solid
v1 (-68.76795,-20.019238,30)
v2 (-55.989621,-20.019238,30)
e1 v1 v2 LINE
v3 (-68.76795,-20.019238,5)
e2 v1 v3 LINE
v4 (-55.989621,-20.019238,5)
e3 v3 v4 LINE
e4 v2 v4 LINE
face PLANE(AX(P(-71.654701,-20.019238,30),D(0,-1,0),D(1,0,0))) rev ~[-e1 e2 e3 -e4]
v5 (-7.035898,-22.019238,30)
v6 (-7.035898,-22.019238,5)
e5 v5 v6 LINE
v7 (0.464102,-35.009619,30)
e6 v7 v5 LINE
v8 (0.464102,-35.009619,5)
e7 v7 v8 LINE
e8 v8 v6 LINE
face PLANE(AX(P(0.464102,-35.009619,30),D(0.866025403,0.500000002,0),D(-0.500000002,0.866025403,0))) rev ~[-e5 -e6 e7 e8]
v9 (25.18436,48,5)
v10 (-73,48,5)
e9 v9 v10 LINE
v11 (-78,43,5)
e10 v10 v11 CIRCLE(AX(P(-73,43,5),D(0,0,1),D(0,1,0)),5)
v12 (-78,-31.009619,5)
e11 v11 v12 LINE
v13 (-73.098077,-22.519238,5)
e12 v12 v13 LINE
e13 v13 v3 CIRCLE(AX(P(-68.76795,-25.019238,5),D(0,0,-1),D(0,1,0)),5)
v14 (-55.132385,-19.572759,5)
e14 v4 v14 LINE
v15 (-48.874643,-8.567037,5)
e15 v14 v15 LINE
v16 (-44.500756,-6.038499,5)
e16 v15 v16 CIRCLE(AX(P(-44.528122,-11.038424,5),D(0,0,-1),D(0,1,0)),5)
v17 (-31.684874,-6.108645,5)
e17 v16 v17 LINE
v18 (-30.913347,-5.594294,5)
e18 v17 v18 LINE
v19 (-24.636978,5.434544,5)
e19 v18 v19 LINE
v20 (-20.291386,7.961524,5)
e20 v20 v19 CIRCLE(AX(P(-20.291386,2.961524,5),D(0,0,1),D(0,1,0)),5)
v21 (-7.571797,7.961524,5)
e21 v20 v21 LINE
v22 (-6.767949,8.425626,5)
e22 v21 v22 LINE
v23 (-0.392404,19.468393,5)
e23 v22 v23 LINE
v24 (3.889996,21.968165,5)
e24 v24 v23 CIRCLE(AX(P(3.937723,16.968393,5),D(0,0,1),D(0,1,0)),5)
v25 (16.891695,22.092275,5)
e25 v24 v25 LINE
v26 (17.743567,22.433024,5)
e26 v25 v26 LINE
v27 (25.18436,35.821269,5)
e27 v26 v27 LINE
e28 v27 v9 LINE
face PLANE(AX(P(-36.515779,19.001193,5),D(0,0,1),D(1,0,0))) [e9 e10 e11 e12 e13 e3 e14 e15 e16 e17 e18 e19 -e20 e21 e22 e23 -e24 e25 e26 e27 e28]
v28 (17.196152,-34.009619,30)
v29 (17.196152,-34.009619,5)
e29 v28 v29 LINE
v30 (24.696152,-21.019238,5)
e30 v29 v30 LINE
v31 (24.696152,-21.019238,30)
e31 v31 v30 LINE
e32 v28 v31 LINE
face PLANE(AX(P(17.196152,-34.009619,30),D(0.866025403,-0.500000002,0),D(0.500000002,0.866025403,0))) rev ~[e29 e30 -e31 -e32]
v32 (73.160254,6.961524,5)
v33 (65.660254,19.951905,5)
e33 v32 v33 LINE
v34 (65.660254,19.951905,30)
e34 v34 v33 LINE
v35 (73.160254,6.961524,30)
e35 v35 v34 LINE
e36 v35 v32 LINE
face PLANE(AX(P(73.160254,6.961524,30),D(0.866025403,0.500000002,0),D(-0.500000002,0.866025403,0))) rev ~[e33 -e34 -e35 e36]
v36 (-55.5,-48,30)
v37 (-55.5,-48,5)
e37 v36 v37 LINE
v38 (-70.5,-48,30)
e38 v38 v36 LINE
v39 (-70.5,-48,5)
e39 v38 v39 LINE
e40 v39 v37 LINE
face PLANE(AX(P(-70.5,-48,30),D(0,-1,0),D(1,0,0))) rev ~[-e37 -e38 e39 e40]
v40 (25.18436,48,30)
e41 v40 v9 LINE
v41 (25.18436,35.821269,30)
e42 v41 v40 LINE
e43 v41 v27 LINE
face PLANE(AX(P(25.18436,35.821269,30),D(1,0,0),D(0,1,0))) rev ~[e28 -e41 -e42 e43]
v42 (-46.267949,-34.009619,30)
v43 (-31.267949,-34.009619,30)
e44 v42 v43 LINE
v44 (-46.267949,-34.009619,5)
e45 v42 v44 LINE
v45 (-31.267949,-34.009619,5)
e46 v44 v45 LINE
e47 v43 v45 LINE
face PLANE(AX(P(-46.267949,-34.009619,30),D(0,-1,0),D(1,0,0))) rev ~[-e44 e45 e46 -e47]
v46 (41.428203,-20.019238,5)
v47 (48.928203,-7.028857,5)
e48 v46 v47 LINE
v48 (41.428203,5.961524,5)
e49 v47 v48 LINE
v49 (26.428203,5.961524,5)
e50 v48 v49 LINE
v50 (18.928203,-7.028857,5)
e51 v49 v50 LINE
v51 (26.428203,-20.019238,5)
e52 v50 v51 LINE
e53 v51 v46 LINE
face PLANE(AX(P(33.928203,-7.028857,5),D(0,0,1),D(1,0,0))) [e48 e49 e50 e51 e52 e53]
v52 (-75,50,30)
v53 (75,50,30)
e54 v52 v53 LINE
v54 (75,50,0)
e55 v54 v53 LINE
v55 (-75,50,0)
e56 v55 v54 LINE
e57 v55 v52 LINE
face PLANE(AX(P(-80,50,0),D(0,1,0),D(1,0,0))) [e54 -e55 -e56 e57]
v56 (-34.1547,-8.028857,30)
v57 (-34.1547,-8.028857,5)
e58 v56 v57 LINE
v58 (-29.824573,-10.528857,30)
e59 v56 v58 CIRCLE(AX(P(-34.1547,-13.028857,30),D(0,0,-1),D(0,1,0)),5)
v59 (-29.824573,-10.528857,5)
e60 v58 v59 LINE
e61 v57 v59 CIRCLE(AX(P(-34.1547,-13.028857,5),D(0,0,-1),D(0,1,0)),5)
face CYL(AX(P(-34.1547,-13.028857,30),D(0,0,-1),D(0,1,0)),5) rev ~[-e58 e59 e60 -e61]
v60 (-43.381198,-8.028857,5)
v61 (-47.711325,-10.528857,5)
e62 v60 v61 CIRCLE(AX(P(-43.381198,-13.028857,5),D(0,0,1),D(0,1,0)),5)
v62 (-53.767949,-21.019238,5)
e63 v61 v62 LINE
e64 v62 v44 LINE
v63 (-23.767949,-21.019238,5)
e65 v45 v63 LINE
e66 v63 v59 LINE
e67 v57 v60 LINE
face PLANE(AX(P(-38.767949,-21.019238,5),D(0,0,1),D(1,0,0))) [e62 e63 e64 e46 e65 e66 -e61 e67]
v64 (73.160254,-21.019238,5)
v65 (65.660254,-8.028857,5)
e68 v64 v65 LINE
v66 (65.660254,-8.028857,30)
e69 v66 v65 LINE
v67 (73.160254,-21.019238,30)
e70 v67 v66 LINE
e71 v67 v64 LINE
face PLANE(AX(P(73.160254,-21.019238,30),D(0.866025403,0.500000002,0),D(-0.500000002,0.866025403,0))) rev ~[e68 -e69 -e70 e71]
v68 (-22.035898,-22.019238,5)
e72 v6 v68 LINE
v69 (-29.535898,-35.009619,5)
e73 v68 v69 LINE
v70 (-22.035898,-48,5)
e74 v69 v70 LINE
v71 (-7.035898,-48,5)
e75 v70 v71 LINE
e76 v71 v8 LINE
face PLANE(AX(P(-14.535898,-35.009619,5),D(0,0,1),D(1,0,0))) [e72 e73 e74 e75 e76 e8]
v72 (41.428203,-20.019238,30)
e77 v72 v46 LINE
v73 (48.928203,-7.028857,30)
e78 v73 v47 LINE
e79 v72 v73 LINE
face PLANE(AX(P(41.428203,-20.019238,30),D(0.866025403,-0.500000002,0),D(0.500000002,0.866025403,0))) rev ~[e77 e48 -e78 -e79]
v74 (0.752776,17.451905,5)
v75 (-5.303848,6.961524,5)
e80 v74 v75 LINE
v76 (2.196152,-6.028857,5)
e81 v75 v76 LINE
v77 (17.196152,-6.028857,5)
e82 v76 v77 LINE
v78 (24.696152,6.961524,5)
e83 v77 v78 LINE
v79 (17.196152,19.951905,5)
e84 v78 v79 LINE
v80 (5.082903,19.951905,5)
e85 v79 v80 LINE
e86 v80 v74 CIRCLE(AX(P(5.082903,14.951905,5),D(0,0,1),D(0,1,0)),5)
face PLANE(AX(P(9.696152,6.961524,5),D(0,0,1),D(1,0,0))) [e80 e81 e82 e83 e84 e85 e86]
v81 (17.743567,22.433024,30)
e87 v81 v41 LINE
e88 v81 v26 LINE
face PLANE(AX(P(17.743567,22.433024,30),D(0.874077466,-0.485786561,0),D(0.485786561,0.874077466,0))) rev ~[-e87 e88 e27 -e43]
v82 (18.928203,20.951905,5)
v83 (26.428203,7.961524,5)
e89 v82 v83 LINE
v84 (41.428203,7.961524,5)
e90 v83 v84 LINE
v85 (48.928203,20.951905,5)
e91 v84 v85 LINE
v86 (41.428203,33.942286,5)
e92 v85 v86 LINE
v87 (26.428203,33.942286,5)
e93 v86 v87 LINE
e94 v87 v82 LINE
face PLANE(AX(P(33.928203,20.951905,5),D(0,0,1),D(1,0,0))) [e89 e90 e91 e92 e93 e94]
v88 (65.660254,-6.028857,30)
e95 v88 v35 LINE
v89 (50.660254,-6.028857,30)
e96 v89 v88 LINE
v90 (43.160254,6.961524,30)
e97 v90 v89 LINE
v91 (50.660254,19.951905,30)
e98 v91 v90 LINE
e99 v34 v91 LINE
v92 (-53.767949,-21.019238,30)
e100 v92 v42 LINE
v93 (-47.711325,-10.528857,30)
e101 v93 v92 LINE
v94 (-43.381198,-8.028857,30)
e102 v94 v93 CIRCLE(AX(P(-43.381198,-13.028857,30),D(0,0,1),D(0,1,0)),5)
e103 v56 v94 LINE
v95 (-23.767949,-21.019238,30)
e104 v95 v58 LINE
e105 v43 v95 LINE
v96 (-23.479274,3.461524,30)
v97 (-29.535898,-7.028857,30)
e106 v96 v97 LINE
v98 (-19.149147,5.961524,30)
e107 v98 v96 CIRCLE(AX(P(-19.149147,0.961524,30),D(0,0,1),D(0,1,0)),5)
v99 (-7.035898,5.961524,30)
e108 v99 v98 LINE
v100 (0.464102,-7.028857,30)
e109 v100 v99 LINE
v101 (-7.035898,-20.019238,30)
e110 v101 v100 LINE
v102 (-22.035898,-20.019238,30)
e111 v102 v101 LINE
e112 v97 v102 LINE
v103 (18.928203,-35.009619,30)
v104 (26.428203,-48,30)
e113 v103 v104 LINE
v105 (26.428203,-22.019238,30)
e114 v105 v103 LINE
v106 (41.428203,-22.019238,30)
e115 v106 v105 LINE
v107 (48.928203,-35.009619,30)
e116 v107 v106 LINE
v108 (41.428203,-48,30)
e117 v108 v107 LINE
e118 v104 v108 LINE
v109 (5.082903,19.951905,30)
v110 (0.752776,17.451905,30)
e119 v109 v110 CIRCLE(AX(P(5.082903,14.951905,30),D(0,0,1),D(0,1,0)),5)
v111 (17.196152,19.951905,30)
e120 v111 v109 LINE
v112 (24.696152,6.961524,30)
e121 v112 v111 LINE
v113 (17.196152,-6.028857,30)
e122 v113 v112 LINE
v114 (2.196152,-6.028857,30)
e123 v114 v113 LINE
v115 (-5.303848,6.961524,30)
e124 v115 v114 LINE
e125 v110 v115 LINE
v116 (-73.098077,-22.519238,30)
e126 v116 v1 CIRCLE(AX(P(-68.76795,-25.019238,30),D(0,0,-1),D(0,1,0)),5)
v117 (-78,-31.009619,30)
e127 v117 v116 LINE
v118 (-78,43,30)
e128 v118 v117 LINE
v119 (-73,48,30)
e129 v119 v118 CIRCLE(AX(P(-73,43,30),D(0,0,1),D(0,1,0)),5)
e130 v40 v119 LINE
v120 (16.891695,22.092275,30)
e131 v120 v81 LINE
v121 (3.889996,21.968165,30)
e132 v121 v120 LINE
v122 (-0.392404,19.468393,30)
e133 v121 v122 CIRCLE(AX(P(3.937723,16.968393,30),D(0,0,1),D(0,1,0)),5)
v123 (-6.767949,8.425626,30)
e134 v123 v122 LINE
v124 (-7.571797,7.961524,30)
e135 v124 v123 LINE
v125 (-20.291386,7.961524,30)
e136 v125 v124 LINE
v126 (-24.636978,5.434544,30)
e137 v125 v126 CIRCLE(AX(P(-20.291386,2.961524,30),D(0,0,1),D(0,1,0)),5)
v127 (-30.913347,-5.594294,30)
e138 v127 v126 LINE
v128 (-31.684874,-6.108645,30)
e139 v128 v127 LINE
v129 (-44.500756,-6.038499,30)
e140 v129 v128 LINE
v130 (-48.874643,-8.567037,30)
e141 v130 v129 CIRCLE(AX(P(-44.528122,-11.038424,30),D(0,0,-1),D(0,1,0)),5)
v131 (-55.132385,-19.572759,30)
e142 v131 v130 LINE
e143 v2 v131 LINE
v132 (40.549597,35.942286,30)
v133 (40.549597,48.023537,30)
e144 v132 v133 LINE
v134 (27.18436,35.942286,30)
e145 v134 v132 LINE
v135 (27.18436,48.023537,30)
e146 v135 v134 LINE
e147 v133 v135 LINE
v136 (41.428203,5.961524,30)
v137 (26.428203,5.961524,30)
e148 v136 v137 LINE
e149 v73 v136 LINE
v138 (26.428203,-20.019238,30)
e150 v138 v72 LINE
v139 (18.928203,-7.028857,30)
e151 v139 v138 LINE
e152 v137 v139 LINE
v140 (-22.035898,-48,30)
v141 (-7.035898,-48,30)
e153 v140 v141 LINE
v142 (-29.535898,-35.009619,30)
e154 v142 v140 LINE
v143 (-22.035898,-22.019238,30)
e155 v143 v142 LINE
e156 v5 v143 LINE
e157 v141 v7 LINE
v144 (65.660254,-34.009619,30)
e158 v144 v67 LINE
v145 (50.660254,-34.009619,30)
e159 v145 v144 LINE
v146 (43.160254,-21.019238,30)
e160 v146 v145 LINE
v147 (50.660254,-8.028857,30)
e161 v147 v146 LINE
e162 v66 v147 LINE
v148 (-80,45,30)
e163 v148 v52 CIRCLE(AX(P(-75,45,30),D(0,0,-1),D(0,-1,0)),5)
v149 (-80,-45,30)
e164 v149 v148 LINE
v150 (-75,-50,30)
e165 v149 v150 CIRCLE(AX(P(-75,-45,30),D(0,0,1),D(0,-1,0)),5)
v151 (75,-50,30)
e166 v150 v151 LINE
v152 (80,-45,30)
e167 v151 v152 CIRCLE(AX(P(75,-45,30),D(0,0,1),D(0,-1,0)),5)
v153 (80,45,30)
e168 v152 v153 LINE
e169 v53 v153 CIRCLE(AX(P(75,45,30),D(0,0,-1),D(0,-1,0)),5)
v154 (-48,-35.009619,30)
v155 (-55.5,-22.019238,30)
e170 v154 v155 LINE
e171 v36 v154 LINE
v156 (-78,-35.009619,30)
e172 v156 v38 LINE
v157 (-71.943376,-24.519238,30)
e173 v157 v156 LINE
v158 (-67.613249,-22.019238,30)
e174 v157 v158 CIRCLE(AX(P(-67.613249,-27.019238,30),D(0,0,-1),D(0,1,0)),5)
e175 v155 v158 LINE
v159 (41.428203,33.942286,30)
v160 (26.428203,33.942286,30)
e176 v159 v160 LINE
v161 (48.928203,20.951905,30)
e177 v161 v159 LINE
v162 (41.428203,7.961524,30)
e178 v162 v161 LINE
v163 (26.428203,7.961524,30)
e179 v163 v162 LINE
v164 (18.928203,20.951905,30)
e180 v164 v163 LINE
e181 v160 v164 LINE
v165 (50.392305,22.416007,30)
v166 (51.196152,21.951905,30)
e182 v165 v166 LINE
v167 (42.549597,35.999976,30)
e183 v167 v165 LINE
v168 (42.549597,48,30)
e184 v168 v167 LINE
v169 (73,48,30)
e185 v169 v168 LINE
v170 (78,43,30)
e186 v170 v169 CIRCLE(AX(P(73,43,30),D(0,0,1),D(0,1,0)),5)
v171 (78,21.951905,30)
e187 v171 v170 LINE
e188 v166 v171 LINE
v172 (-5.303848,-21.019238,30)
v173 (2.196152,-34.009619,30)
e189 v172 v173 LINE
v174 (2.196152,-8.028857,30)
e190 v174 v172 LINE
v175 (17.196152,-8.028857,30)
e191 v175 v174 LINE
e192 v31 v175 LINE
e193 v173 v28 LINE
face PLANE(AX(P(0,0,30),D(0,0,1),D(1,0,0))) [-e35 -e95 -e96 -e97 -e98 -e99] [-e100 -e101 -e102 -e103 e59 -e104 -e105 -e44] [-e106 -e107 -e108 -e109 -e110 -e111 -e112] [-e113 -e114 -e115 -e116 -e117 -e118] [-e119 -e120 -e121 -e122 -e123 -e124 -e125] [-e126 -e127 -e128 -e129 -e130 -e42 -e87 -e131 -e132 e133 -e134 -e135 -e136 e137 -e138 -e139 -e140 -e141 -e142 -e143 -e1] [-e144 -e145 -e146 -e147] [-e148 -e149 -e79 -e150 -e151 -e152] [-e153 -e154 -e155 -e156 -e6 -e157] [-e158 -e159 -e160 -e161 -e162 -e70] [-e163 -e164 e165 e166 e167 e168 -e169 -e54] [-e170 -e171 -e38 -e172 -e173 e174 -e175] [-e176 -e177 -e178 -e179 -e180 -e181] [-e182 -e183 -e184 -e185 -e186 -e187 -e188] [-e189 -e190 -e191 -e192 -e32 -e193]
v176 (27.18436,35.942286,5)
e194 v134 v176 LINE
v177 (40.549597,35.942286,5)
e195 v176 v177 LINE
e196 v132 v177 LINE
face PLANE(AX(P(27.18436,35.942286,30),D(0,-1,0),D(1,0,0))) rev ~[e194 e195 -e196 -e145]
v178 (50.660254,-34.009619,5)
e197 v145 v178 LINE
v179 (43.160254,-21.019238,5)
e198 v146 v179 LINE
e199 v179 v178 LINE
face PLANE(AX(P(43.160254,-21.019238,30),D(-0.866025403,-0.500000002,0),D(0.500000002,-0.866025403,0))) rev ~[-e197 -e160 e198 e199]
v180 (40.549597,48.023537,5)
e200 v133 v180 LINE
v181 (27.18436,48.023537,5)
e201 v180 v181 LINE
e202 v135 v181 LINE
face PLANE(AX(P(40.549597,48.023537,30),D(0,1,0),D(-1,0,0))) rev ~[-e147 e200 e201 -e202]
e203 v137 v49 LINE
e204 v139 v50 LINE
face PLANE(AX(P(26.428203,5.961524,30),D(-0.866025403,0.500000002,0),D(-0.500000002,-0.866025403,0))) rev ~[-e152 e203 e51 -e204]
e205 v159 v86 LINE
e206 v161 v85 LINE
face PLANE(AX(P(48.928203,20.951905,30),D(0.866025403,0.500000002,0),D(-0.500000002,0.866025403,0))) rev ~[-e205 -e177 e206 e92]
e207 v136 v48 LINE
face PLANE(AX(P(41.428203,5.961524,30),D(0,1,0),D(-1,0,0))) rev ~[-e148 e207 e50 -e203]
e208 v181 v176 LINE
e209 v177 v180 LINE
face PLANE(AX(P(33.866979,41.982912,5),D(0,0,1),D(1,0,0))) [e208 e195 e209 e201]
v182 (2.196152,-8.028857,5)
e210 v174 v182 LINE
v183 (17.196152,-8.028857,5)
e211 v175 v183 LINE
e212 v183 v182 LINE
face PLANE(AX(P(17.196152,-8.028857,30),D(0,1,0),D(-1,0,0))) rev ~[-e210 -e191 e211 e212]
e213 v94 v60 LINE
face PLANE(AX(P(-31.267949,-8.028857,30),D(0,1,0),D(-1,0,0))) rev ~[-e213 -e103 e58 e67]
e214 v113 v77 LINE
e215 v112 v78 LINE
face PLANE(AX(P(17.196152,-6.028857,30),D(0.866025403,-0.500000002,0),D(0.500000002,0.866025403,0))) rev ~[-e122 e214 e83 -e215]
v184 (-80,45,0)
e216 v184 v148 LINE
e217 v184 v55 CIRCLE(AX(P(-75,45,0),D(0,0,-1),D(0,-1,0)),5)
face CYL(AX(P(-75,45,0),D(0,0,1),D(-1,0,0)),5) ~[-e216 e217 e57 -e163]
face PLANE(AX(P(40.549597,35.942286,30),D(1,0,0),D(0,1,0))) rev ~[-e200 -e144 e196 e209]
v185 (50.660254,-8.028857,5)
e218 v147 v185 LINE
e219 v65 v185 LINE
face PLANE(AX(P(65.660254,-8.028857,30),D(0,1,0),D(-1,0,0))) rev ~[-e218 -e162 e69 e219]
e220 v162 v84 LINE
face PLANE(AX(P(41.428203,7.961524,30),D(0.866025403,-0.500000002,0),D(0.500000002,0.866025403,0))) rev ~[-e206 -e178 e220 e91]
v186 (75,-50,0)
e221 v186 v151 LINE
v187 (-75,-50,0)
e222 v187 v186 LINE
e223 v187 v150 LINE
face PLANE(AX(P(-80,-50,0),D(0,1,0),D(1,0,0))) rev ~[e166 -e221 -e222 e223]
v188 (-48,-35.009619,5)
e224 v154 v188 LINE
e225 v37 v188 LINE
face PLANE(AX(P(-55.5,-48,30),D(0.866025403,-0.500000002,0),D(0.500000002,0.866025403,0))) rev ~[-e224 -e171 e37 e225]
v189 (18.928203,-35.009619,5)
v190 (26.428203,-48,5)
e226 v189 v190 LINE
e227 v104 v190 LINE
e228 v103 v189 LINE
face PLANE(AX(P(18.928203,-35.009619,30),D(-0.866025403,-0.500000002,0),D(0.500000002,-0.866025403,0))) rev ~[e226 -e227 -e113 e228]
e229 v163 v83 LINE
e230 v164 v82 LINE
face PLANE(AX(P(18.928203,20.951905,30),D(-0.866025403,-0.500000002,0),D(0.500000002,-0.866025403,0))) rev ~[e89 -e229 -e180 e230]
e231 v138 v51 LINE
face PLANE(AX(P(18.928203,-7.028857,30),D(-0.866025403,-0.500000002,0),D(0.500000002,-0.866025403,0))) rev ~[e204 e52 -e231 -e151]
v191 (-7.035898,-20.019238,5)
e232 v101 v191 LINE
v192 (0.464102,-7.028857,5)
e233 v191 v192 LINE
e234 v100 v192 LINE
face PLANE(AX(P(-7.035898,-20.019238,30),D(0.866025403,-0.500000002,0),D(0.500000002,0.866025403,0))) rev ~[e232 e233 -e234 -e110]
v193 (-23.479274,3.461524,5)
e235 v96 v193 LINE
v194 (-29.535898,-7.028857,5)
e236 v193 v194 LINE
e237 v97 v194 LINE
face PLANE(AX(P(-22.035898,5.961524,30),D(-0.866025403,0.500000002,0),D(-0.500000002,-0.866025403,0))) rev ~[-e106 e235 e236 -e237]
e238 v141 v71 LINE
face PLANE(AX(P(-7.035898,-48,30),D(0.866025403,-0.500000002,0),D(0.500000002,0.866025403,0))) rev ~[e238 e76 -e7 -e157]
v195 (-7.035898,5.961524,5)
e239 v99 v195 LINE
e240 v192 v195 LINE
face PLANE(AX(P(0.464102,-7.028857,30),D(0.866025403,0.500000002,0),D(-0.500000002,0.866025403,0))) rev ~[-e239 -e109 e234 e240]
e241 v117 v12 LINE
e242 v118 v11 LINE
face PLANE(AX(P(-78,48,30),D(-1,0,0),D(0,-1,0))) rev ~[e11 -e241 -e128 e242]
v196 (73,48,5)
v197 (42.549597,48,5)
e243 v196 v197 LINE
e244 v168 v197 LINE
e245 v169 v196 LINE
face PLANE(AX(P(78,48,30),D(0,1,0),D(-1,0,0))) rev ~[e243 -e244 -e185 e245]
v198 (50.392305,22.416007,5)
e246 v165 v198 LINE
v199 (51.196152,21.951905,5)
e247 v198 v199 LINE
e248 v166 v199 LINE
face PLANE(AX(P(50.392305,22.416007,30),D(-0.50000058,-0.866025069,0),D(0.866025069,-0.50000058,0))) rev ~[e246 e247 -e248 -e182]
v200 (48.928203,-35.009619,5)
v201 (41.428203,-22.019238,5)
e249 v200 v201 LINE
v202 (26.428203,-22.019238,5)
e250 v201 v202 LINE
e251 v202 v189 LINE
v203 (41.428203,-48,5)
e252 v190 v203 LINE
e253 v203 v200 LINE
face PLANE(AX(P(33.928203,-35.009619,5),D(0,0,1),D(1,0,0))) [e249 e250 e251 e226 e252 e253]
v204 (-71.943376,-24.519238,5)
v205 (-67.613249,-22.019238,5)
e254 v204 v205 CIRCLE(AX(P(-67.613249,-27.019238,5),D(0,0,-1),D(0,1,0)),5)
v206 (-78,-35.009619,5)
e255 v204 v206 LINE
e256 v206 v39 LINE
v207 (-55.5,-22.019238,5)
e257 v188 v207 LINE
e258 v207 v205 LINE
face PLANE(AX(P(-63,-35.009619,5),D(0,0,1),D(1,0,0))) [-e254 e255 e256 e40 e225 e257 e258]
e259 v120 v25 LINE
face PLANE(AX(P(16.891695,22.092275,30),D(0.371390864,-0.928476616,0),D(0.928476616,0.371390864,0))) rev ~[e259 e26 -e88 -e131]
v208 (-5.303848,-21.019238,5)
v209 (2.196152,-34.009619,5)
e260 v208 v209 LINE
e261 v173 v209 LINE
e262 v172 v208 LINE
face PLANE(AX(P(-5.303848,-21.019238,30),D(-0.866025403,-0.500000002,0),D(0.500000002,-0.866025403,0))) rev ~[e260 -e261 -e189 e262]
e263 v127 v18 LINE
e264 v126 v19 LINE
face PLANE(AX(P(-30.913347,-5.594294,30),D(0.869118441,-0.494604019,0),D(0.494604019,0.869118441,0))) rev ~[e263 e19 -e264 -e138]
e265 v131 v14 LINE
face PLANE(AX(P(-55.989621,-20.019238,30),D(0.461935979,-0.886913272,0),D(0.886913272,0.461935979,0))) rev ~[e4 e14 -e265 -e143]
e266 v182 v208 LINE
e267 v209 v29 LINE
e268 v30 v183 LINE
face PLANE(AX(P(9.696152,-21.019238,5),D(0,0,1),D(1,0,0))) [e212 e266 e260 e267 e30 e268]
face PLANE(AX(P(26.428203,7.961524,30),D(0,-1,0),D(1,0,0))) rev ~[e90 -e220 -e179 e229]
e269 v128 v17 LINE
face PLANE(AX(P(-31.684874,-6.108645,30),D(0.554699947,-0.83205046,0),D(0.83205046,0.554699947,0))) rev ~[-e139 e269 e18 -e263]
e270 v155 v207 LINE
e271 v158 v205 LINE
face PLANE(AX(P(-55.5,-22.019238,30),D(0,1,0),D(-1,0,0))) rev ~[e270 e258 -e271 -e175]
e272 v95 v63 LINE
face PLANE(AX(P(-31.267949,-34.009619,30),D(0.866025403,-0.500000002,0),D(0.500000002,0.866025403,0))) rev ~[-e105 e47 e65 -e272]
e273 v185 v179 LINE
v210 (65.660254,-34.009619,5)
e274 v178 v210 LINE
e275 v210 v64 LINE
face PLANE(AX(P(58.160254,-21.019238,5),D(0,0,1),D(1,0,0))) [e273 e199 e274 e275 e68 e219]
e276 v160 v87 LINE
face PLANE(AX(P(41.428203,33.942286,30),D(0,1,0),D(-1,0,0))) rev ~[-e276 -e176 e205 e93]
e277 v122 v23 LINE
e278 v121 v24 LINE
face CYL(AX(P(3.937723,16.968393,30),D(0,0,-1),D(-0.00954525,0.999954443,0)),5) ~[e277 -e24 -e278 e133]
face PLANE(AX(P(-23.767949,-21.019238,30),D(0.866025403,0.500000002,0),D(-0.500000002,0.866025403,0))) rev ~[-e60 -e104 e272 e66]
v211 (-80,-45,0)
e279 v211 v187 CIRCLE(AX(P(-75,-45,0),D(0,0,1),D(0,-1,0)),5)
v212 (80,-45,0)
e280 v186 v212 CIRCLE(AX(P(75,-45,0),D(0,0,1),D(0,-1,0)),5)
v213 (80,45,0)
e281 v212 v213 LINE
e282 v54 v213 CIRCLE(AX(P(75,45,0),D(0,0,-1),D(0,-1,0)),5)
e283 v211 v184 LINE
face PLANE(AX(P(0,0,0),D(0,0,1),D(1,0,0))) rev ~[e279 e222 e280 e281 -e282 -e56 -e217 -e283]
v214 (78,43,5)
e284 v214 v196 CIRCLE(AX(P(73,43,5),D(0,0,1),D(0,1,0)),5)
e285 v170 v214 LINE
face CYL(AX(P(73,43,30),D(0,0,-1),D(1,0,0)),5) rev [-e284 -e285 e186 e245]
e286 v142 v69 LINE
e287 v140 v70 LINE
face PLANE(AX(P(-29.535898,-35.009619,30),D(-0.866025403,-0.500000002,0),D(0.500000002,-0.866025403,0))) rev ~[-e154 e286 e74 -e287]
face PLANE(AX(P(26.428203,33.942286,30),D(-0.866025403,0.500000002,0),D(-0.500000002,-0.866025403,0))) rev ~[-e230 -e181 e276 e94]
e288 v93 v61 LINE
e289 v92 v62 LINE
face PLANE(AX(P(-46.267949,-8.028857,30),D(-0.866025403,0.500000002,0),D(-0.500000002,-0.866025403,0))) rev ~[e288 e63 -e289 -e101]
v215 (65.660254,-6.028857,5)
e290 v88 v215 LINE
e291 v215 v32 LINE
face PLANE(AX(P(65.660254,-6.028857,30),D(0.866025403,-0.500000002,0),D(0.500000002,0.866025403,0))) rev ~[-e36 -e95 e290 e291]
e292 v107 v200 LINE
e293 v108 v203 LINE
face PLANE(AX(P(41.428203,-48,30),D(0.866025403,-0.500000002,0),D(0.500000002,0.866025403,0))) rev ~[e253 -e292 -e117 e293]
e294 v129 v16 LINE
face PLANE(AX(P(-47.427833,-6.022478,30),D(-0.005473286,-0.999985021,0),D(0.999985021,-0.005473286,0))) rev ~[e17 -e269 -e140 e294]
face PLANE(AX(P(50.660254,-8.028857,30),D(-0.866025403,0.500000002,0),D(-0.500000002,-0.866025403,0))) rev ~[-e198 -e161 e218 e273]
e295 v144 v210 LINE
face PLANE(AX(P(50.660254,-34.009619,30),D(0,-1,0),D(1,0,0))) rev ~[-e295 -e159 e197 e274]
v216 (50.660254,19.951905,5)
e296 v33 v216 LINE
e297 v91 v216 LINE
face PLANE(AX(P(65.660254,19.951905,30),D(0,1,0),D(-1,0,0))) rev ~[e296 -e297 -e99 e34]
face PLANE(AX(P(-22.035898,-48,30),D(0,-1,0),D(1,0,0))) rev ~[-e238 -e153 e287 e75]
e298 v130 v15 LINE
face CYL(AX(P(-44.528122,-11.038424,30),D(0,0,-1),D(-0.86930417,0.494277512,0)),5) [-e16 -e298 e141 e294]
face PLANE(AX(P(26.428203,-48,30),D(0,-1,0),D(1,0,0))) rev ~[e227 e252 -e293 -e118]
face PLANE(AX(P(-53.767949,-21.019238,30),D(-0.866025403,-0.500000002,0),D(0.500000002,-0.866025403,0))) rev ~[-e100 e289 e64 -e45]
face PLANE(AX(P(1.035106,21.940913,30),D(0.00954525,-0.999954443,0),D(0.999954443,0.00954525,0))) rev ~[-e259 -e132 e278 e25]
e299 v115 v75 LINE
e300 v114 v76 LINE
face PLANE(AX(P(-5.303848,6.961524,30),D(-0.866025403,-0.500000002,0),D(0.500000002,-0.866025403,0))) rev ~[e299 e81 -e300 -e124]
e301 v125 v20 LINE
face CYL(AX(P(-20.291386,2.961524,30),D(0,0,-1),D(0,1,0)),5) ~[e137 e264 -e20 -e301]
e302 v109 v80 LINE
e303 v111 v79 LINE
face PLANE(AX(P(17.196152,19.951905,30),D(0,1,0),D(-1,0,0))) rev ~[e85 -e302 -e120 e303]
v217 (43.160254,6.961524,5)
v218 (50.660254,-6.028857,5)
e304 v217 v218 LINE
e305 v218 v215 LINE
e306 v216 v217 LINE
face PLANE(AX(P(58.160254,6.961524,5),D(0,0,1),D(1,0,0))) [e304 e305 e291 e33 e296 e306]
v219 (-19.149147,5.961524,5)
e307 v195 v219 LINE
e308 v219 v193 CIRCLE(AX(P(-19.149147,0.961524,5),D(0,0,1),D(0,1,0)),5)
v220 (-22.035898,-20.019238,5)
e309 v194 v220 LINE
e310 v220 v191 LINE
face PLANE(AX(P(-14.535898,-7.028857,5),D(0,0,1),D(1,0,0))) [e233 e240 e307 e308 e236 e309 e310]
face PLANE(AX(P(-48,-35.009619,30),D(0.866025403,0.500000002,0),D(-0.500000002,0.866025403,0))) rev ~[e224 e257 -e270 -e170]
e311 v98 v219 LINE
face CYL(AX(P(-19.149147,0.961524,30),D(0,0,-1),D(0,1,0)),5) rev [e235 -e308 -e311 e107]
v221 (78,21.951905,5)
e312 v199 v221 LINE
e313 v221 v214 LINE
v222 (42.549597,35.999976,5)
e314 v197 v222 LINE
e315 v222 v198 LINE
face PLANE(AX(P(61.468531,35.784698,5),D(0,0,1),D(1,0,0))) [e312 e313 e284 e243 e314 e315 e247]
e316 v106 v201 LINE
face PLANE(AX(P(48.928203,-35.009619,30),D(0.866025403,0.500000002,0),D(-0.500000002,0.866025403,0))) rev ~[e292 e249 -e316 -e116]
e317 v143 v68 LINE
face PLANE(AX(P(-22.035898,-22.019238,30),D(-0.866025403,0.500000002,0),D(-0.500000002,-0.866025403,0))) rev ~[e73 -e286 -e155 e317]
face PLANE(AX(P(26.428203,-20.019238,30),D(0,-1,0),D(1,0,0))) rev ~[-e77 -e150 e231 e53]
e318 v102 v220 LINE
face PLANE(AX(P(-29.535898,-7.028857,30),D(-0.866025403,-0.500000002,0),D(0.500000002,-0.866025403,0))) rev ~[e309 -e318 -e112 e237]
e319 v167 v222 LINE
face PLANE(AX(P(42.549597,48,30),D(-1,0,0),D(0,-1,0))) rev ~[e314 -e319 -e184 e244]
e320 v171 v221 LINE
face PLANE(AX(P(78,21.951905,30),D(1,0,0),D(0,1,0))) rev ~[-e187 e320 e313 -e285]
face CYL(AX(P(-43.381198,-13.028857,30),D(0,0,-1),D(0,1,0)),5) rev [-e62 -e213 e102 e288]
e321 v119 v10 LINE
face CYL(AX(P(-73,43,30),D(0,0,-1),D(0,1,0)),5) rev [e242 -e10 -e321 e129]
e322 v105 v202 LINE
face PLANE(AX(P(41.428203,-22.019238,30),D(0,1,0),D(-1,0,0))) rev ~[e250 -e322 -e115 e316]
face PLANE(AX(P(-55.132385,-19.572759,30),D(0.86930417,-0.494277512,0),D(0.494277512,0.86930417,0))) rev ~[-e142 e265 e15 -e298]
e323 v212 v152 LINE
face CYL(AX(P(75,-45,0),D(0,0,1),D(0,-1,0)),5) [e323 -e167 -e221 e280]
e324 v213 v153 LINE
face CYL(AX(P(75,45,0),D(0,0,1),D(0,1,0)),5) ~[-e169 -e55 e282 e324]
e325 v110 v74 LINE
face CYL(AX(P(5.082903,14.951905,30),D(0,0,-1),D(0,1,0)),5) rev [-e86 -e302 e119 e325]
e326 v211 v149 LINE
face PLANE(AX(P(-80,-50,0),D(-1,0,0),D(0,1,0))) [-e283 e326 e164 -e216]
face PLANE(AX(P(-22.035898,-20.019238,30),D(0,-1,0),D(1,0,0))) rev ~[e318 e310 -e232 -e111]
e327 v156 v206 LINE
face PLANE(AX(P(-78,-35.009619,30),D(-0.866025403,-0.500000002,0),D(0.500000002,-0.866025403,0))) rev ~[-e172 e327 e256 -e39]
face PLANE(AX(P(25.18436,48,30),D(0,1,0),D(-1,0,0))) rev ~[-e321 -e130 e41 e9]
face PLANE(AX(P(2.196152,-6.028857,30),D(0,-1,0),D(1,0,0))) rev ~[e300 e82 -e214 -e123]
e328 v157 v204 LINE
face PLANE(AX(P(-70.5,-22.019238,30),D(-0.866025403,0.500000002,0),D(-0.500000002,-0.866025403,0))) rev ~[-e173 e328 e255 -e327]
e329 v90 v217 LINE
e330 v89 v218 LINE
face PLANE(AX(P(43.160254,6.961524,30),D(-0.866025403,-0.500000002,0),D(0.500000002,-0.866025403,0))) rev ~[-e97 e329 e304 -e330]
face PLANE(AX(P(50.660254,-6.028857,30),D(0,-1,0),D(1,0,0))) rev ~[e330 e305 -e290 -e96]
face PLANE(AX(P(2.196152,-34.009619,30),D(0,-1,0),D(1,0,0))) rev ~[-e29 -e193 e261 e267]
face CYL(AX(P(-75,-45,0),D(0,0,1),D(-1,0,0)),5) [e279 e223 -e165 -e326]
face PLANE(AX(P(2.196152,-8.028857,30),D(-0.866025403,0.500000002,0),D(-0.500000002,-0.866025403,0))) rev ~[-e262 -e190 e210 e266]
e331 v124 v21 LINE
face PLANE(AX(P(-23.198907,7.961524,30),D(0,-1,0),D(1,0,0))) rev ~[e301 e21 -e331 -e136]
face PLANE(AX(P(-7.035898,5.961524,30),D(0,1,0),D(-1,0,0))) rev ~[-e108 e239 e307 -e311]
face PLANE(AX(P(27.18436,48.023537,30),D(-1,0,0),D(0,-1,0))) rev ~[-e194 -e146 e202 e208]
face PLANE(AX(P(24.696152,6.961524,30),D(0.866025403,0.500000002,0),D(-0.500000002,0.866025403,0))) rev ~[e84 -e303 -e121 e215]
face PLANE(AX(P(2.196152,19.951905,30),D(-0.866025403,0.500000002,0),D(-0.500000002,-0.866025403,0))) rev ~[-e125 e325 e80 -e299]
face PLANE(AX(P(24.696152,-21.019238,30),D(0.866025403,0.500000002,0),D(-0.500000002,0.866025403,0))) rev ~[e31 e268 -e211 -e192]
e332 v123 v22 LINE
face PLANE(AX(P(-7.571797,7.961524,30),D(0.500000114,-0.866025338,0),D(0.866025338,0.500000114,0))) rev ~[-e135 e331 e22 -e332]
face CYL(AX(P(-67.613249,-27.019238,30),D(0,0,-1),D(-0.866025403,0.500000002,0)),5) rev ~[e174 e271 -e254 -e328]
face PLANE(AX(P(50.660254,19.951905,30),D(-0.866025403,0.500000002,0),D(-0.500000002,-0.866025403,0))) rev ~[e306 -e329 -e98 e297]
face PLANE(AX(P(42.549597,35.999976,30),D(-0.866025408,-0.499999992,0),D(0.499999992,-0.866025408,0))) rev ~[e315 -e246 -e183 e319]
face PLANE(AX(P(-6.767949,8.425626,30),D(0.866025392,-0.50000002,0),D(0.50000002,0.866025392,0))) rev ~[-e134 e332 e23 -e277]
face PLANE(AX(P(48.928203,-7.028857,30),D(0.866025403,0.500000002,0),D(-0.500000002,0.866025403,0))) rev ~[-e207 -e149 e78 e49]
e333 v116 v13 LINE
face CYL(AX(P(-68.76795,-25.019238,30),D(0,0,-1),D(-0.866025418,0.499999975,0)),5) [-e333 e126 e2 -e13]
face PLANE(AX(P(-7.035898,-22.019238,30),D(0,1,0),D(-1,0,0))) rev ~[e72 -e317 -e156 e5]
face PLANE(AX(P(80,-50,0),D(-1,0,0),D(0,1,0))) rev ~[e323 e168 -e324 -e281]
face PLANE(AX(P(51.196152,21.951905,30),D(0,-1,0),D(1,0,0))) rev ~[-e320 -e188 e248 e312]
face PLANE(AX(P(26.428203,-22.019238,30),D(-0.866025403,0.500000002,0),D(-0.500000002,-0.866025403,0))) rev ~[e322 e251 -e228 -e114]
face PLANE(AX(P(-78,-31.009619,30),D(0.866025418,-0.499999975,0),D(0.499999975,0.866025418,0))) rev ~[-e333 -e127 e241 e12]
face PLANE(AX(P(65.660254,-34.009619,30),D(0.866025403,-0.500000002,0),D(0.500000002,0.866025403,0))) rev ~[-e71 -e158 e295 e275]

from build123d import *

# Parameters (mm, degrees)
F0_W     = 160
F0_H     = 100
F1_DEPTH = 30
F3_DEPTH = 25
F5_DEPTH = 25
F6_R     = 5
F7_R     = 5
F8_R     = 5


with BuildPart() as f1:
    # F0 (on Top) → F1 (new body)
    with BuildSketch(Plane.XY):
        Rectangle(F0_W, F0_H)
    extrude(amount=F1_DEPTH)

    # F2 (on face) → F3 (cut)
    with BuildSketch(Plane.XY.offset(30)):
        Polygon((-70.5, -48), (-55.5, -48), (-48, -35.009619), (-55.5, -22.019238), (-70.5, -22.019238), (-78, -35.009619), align=None)
        Polygon((-31.267949, -8.028857), (-46.267949, -8.028857), (-53.767949, -21.019238), (-46.267949, -34.009619), (-31.267949, -34.009619), (-23.767949, -21.019238), align=None)
        Polygon((-7.035898, 5.961524), (-22.035898, 5.961524), (-29.535898, -7.028857), (-22.035898, -20.019238), (-7.035898, -20.019238), (0.464102, -7.028857), align=None)
        Polygon((17.196152, 19.951905), (2.196152, 19.951905), (-5.303848, 6.961524), (2.196152, -6.028857), (17.196152, -6.028857), (24.696152, 6.961524), align=None)
        Polygon((41.428203, 33.942286), (26.428203, 33.942286), (18.928203, 20.951905), (26.428203, 7.961524), (41.428203, 7.961524), (48.928203, 20.951905), align=None)
        Polygon((-7.035898, -22.019238), (-22.035898, -22.019238), (-29.535898, -35.009619), (-22.035898, -48), (-7.035898, -48), (0.464102, -35.009619), align=None)
        Polygon((17.196152, -8.028857), (2.196152, -8.028857), (-5.303848, -21.019238), (2.196152, -34.009619), (17.196152, -34.009619), (24.696152, -21.019238), align=None)
        Polygon((41.428203, 5.961524), (26.428203, 5.961524), (18.928203, -7.028857), (26.428203, -20.019238), (41.428203, -20.019238), (48.928203, -7.028857), align=None)
        Polygon((65.660254, 19.951905), (50.660254, 19.951905), (43.160254, 6.961524), (50.660254, -6.028857), (65.660254, -6.028857), (73.160254, 6.961524), align=None)
        Polygon((41.428203, -22.019238), (26.428203, -22.019238), (18.928203, -35.009619), (26.428203, -48), (41.428203, -48), (48.928203, -35.009619), align=None)
        Polygon((65.660254, -8.028857), (50.660254, -8.028857), (43.160254, -21.019238), (50.660254, -34.009619), (65.660254, -34.009619), (73.160254, -21.019238), align=None)
    extrude(amount=-F3_DEPTH, mode=Mode.SUBTRACT)

    # F4 (on face) → F5 (cut, through all)
    with BuildSketch(Plane.XY.offset(30)):
        Polygon((51.196152, 21.951905), (78, 21.951905), (78, 48), (42.549597, 48), (42.549597, 35.999976), (50.392305, 22.416007), align=None)
        Polygon((16.891695, 22.092275), (17.743567, 22.433024), (25.18436, 35.821269), (25.18436, 48), (-78, 48), (-78, -31.009619), (-71.654701, -20.019238), (-55.989621, -20.019238), (-55.132385, -19.572759), (-47.427833, -6.022478), (-31.684874, -6.108645), (-30.913347, -5.594294), (-23.198907, 7.961524), (-7.571797, 7.961524), (-6.767949, 8.425626), (1.035106, 21.940913), align=None)
        Polygon((40.549597, 48.023537), (27.18436, 48.023537), (27.18436, 35.942286), (33.928203, 35.942286), (40.549597, 35.942286), align=None)
    extrude(amount=-F5_DEPTH, mode=Mode.SUBTRACT)

    # F6
    f6_edges = [f1.edges().sort_by_distance(p)[0] for p in [
        (-46.267949, -8.028857, 17.5),
        (-31.267949, -8.028857, 17.5),
    ]]
    fillet(f6_edges, radius=F6_R)

    # F7
    f7_edges = [f1.edges().sort_by_distance(p)[0] for p in [
        (-80, -50, 15),
        (80, -50, 15),
        (80, 50, 15),
        (-80, 50, 15),
        (-78, 48, 17.5),
        (78, 48, 17.5),
    ]]
    fillet(f7_edges, radius=F7_R)

    # F8
    f8_edges = [f1.edges().sort_by_distance(p)[0] for p in [
        (-23.198907, 7.961524, 17.5),
        (1.035106, 21.940913, 17.5),
        (-47.427833, -6.022478, 17.5),
        (-71.654701, -20.019238, 17.5),
        (-70.5, -22.019238, 17.5),
        (-22.035898, 5.961524, 17.5),
        (2.196152, 19.951905, 17.5),
    ]]
    fillet(f8_edges, radius=F8_R)


solid = f1.part
